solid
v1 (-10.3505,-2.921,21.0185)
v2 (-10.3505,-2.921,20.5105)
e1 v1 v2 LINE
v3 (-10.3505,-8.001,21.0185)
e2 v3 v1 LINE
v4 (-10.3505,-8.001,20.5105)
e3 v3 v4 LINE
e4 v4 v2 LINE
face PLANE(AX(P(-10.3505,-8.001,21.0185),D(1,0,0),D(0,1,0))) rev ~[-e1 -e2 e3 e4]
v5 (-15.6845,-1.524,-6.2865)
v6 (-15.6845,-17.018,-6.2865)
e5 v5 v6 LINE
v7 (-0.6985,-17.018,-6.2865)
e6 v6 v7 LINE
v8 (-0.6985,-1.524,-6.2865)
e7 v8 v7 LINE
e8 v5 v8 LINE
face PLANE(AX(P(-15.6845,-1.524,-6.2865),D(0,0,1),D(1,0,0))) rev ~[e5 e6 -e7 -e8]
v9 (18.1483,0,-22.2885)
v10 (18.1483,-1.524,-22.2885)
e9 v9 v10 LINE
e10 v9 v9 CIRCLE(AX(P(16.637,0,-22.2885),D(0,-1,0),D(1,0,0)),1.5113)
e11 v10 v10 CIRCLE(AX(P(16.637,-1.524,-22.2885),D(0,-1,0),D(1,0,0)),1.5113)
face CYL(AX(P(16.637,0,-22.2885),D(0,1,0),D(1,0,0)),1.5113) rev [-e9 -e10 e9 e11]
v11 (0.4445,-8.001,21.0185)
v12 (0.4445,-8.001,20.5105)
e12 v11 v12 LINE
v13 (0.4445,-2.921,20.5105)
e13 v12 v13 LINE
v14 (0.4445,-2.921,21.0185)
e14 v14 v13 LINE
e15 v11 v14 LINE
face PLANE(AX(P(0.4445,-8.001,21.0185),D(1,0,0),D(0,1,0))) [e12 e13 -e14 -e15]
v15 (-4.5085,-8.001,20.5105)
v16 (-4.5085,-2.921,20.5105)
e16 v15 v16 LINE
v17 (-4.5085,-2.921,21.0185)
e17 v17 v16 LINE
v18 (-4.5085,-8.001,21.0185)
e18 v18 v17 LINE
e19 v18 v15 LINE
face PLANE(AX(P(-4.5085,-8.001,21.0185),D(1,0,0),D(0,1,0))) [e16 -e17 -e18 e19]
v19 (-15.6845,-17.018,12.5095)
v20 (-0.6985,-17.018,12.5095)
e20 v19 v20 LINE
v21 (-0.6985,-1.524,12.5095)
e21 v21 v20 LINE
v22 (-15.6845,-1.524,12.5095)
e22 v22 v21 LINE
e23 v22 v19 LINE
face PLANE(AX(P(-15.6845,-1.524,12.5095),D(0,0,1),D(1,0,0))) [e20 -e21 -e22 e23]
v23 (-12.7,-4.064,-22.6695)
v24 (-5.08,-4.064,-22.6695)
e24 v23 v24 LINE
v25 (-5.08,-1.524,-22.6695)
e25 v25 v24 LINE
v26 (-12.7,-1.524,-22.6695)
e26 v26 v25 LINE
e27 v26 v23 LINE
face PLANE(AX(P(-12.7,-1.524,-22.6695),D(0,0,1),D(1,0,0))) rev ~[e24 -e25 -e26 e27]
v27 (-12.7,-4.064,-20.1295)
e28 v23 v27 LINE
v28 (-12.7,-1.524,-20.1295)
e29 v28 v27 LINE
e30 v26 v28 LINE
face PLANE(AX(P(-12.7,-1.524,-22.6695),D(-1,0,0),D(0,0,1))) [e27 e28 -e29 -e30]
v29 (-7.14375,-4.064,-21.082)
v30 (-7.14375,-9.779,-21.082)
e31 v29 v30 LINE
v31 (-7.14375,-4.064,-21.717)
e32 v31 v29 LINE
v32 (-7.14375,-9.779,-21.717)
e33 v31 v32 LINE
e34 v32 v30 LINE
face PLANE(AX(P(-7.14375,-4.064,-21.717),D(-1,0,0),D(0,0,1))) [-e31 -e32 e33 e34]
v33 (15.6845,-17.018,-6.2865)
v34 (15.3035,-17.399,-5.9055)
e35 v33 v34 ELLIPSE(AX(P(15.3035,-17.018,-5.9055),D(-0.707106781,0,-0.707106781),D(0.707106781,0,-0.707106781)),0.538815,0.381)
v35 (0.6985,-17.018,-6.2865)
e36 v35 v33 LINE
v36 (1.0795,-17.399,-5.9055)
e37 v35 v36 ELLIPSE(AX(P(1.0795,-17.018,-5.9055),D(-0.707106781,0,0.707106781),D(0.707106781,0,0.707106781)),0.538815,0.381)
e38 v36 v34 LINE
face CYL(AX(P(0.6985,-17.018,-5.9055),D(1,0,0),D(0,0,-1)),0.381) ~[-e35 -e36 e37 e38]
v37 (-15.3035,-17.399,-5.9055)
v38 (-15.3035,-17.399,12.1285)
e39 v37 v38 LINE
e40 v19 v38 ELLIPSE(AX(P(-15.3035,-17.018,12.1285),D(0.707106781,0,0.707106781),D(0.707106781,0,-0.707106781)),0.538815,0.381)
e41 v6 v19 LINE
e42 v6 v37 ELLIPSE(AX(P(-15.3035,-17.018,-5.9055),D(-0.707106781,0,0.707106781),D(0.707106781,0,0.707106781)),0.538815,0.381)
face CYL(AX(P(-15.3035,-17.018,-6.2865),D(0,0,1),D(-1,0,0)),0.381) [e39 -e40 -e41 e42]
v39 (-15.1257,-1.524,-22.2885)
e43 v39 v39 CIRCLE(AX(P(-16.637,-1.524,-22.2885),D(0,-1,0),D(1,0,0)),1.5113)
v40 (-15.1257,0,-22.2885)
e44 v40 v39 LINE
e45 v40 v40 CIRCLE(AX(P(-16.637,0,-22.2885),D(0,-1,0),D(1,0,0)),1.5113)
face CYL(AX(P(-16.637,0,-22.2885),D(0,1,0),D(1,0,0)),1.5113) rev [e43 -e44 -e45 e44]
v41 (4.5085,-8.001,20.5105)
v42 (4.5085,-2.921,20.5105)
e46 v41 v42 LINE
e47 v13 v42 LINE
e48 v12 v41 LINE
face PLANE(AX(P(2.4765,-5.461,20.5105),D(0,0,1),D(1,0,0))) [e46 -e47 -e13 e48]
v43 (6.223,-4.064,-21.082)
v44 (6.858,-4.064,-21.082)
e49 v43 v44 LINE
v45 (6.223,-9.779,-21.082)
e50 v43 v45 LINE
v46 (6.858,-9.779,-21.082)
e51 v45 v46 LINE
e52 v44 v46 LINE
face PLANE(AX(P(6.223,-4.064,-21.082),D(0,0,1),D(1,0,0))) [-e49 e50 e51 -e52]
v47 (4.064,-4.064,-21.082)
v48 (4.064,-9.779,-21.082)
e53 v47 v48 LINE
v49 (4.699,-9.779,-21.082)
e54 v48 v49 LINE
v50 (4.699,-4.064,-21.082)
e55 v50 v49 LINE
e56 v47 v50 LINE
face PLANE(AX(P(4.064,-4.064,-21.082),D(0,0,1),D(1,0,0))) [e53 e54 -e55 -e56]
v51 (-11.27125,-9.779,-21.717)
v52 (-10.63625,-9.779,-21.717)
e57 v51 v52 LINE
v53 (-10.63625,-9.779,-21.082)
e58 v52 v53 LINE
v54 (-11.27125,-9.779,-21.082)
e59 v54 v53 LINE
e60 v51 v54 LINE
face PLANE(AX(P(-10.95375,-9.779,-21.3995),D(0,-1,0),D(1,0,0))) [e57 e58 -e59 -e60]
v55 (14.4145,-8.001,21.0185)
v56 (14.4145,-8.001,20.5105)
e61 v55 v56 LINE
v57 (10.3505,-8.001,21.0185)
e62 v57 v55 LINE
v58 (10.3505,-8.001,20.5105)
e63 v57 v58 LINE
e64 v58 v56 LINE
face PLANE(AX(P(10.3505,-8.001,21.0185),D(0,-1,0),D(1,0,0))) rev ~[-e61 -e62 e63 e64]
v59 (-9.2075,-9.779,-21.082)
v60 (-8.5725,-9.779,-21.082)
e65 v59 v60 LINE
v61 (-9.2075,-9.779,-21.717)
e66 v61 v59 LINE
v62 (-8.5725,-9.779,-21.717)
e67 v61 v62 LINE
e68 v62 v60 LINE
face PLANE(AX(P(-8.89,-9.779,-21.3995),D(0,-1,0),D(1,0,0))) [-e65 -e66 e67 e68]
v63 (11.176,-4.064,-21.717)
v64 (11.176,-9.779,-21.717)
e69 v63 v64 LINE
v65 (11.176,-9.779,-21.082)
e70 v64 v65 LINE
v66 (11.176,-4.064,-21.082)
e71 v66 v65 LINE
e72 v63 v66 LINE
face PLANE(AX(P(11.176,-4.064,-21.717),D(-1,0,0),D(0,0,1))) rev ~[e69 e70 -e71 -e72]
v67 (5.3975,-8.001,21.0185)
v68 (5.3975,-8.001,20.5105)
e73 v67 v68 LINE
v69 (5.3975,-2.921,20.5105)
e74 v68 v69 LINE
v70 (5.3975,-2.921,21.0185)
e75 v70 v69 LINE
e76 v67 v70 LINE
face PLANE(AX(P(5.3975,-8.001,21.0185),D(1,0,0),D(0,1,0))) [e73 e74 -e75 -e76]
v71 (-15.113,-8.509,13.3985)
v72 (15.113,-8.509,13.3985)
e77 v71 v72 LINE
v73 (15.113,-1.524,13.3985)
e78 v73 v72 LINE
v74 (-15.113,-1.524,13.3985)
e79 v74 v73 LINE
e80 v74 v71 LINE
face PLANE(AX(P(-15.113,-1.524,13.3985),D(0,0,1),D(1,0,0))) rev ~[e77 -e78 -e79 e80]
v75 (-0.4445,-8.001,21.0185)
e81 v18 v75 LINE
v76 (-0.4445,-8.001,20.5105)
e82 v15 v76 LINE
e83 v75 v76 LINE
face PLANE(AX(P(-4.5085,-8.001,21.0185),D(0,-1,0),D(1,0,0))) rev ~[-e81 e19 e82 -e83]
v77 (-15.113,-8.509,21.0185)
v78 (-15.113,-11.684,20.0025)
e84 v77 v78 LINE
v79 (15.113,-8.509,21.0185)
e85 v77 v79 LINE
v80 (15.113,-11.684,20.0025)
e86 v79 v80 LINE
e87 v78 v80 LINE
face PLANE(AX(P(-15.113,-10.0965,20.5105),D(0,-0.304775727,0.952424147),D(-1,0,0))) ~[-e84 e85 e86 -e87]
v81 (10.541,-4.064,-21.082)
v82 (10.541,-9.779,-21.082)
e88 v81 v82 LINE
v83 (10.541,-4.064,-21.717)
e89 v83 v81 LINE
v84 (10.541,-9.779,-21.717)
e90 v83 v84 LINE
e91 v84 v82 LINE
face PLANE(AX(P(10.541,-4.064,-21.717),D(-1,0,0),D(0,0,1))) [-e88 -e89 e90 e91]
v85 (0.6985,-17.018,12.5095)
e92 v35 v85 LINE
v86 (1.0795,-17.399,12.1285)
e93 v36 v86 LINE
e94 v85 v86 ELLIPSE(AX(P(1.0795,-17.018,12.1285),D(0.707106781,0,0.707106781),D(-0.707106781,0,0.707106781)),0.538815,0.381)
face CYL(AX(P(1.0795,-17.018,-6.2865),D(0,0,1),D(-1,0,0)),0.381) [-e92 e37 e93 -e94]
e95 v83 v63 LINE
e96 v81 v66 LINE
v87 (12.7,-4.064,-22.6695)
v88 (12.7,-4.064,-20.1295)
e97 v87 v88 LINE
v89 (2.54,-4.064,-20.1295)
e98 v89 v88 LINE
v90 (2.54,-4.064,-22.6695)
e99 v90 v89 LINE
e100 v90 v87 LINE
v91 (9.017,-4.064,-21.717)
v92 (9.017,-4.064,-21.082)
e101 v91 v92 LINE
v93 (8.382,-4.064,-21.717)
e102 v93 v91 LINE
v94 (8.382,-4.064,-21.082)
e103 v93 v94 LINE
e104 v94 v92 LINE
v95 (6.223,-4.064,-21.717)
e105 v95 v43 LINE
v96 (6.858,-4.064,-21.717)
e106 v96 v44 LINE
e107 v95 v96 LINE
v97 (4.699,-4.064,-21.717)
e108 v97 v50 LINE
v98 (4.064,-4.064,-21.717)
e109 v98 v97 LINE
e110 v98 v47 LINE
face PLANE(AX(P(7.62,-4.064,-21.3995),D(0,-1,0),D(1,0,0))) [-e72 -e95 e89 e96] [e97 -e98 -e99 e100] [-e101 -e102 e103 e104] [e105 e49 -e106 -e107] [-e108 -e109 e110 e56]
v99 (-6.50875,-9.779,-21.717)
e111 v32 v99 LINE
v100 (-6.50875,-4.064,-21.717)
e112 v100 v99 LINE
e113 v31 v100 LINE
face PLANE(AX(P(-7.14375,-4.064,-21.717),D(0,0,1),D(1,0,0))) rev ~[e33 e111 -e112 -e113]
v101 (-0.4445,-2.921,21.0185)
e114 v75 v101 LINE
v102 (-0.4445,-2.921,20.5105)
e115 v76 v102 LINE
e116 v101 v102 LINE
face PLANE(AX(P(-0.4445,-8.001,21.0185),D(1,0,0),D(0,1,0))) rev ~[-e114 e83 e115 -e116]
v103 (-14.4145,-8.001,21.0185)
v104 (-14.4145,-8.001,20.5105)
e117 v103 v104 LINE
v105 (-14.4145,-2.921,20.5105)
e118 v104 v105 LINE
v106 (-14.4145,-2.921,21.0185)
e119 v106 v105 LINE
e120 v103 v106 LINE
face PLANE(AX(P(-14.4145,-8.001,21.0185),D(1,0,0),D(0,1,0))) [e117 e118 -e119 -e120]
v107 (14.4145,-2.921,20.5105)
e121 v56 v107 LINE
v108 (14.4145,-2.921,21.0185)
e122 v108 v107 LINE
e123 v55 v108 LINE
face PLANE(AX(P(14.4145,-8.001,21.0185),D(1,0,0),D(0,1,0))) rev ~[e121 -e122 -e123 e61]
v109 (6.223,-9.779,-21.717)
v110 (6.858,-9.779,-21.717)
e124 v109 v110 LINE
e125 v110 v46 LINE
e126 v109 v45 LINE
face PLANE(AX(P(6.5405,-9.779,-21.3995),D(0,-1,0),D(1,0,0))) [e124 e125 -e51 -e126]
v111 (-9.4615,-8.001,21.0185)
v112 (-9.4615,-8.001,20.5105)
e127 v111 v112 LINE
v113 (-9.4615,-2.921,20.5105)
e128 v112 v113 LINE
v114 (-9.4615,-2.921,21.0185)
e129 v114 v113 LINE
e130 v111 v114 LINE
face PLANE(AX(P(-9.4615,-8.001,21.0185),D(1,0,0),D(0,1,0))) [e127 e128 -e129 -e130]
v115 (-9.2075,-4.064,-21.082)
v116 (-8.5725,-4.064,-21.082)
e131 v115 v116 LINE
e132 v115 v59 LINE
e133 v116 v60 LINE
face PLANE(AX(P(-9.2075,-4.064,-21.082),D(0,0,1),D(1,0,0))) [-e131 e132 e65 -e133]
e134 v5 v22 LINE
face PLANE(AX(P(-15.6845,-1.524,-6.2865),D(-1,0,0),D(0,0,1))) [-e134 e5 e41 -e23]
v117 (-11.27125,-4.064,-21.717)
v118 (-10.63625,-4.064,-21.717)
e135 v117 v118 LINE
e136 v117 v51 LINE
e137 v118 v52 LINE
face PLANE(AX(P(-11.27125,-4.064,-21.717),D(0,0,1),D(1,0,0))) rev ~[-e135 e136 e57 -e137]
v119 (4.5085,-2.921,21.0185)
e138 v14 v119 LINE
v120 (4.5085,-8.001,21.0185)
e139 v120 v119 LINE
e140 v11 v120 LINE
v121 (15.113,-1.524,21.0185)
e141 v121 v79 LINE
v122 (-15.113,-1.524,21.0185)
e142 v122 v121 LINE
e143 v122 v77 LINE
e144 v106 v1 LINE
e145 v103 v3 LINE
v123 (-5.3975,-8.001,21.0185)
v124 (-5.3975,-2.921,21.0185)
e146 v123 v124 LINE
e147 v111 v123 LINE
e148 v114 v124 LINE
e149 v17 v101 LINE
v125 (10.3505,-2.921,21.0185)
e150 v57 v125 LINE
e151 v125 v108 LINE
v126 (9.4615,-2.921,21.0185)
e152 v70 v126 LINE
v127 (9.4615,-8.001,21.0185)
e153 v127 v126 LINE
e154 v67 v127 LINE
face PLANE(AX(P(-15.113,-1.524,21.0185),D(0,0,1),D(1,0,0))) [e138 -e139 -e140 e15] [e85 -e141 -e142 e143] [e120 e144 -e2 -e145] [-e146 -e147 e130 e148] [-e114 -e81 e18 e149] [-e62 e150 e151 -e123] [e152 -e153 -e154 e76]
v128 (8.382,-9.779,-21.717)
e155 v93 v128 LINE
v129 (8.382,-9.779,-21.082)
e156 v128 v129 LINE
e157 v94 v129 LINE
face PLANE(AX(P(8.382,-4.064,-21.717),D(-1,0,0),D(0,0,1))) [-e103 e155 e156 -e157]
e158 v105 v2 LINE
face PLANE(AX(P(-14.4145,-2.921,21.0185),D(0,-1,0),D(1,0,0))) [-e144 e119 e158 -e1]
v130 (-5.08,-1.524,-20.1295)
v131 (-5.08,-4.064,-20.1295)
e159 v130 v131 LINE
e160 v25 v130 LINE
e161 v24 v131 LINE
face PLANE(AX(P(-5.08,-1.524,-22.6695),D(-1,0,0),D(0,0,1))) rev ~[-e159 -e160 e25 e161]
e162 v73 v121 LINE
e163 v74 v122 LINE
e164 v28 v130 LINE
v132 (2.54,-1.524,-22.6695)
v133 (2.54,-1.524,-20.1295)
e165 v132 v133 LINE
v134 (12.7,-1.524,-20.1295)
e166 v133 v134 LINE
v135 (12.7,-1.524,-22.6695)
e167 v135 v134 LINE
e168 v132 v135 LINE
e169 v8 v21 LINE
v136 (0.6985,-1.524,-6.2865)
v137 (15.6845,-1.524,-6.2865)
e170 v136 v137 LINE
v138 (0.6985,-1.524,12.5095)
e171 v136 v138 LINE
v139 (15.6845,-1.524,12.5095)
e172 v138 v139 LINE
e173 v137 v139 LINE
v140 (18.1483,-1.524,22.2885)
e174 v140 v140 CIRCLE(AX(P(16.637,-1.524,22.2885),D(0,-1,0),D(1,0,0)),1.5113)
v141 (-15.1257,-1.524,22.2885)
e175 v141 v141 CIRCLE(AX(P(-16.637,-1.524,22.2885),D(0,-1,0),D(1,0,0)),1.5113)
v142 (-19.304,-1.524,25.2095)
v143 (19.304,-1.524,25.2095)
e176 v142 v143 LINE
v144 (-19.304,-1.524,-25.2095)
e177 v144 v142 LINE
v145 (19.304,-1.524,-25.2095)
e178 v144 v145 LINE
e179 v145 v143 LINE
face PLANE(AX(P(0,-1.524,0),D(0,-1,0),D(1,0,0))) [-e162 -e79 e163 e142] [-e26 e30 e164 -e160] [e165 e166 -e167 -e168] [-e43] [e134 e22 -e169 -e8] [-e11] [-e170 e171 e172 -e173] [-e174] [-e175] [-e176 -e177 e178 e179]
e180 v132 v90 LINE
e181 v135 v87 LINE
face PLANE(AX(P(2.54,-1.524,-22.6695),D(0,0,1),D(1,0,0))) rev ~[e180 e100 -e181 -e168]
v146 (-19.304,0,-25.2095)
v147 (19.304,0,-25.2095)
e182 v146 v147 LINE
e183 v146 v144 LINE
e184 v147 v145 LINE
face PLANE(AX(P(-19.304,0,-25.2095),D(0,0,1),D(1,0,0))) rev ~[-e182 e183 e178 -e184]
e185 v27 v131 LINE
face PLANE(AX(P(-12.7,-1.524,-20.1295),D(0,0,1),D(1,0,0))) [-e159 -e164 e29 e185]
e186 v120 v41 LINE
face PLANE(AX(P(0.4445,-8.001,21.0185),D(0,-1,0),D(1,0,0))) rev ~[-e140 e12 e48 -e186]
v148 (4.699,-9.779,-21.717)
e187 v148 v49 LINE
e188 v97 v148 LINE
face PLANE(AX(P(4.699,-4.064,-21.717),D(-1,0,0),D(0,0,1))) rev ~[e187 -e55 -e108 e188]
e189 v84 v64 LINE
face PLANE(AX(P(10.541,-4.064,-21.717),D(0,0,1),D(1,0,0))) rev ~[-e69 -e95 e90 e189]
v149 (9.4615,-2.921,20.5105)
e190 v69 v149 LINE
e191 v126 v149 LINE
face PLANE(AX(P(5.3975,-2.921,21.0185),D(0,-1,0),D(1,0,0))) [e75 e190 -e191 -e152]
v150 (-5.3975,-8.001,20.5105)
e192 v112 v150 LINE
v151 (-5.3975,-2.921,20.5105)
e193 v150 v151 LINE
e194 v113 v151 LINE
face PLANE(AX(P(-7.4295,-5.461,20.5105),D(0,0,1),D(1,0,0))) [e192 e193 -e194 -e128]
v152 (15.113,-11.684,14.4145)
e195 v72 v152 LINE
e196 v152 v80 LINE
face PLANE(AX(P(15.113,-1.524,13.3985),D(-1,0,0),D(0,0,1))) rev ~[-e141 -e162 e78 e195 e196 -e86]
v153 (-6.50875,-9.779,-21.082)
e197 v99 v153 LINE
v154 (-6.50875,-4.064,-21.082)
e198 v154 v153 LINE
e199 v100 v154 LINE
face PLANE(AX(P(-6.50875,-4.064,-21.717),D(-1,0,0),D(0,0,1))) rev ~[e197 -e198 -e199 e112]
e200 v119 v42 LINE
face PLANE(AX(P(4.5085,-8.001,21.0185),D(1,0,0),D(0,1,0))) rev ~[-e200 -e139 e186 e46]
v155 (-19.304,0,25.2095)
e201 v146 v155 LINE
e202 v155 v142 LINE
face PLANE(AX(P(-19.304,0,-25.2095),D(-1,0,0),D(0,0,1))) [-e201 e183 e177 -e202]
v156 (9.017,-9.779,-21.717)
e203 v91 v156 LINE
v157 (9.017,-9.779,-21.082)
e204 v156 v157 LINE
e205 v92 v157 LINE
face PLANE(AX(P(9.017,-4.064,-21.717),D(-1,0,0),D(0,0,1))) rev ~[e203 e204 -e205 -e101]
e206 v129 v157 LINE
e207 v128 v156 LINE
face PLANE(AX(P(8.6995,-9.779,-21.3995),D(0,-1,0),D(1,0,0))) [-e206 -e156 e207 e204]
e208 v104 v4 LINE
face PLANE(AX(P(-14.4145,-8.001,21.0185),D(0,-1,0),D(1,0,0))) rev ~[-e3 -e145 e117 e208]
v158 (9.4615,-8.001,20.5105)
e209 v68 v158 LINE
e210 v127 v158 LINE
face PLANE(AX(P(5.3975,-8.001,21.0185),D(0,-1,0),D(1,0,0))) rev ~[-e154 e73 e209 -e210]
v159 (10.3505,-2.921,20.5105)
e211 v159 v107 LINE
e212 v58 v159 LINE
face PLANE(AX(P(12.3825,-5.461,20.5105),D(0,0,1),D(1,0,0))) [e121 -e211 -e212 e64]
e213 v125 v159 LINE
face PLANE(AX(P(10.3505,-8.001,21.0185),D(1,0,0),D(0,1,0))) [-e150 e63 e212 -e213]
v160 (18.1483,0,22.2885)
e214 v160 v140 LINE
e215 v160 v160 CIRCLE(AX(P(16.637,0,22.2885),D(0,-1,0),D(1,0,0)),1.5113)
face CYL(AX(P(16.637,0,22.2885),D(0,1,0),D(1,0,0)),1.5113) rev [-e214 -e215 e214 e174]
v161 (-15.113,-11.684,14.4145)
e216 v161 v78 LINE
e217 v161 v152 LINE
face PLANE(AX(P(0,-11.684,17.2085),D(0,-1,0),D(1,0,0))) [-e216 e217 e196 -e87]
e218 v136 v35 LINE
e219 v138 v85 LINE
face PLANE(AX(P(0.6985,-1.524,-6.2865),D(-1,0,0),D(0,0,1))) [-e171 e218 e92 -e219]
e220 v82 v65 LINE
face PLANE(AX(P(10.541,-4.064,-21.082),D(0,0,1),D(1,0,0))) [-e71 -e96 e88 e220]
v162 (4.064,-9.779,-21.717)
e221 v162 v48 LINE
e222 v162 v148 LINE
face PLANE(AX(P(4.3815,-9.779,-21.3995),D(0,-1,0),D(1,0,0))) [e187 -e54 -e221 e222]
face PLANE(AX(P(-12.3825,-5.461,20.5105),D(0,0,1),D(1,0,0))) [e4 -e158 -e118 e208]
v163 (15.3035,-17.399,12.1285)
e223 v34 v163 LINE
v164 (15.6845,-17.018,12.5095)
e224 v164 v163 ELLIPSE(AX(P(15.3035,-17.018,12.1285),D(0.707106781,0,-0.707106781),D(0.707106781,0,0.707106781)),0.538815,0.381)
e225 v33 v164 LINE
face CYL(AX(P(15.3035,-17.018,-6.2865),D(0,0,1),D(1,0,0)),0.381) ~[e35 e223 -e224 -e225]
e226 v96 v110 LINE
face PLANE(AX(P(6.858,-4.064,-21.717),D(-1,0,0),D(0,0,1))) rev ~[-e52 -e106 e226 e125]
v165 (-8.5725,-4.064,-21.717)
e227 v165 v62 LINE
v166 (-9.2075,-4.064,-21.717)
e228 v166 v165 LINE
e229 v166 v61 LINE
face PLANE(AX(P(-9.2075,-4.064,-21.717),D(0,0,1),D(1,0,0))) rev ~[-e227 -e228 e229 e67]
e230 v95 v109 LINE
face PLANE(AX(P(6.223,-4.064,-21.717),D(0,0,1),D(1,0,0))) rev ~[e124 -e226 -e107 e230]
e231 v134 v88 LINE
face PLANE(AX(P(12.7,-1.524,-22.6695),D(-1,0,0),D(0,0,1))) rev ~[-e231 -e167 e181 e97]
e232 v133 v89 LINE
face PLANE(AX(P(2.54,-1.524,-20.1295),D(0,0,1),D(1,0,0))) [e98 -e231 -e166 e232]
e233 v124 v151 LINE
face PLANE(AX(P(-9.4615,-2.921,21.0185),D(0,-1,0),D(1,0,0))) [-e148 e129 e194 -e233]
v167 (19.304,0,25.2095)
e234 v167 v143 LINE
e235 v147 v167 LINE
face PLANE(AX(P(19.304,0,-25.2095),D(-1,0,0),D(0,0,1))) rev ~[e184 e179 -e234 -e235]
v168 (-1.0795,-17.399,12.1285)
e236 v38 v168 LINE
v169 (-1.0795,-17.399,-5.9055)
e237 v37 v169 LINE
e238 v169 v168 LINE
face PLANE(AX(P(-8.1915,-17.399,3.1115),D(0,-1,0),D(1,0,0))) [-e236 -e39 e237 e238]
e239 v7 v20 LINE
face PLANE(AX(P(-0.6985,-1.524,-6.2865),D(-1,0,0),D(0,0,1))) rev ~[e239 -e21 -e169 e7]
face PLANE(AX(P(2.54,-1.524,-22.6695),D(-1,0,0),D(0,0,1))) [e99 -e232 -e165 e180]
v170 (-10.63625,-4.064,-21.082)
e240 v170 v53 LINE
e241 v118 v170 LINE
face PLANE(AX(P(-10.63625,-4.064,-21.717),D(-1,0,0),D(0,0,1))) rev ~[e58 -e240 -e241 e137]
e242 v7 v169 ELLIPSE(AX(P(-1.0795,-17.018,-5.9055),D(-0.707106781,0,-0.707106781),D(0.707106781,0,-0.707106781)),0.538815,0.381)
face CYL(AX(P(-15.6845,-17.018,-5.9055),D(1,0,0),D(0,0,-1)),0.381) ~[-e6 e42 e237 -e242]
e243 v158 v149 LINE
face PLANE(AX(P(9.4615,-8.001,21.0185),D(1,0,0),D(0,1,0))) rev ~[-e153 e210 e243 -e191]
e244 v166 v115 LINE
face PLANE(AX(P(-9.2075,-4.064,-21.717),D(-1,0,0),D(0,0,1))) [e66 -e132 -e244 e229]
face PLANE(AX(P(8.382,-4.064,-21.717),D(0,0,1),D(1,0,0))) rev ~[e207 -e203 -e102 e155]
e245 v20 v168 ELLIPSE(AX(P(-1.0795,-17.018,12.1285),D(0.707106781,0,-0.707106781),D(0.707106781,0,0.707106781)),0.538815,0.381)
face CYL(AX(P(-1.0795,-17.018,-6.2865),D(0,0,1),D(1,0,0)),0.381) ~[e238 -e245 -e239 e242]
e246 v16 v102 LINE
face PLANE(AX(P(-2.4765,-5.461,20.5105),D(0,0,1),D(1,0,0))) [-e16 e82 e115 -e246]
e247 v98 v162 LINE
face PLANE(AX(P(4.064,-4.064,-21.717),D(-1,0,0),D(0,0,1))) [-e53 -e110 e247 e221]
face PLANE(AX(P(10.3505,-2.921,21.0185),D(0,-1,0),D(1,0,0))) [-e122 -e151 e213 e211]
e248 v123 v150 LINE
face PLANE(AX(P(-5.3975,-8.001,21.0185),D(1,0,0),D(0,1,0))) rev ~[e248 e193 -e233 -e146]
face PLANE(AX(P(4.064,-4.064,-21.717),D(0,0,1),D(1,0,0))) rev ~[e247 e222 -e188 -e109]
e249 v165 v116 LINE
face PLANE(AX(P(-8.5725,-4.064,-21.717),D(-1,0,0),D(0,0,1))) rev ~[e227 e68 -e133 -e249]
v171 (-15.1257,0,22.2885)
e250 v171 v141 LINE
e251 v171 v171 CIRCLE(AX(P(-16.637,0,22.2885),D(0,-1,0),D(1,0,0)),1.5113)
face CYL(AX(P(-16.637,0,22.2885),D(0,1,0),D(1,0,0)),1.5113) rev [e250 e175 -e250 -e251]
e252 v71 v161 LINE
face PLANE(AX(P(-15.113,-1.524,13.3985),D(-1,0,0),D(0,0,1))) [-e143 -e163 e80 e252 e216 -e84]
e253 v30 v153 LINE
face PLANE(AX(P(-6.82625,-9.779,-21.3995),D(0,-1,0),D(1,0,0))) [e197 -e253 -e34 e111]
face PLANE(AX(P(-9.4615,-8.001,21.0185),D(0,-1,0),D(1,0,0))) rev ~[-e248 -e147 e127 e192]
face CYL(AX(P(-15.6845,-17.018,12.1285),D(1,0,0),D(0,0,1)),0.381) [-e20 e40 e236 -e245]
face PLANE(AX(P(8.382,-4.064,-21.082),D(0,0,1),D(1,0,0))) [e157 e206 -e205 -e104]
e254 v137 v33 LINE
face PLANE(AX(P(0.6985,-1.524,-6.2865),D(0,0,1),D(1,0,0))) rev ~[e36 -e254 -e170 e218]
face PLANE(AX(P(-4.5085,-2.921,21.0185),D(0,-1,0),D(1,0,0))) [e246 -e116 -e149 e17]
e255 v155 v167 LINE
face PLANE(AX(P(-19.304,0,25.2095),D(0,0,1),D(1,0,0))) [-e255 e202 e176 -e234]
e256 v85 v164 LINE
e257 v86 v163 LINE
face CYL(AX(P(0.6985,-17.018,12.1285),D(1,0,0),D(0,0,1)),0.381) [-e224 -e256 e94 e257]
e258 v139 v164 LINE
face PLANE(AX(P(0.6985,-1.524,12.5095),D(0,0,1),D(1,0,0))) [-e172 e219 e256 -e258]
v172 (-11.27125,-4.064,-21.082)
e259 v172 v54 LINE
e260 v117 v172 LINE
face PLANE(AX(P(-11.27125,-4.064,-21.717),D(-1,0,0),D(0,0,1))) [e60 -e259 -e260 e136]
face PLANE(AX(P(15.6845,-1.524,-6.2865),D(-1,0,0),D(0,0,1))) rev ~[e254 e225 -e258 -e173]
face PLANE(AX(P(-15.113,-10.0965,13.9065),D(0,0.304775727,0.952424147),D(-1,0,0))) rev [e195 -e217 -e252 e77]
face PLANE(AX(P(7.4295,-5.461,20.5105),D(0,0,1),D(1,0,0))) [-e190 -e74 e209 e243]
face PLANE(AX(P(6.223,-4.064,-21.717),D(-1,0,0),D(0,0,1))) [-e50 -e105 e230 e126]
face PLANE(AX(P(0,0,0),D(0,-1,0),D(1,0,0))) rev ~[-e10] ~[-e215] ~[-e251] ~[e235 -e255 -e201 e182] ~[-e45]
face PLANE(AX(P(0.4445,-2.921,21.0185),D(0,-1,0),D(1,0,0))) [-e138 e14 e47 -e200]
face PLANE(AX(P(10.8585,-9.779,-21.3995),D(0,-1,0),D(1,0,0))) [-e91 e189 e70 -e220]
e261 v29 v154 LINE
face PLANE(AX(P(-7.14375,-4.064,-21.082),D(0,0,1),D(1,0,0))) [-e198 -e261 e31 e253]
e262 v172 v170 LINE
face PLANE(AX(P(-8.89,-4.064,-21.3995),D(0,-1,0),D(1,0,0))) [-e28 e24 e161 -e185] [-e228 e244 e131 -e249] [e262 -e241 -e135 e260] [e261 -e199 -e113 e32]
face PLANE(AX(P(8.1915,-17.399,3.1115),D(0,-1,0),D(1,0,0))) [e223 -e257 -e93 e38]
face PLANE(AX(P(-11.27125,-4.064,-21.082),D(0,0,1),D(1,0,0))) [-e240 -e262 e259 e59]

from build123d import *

# Parameters (mm, degrees)
F0_W      = 38.608
F0_H      = 50.419
F0_R      = 1.5113
F1_DEPTH  = 1.524
F2_W      = 14.986
F2_H      = 18.796
F3_DEPTH  = 15.875
F4_R      = 0.381
F5_W      = 30.226
F5_H      = 7.62
F6_DEPTH  = 10.16
F7_SIZE2  = 1.016
F7_SIZE   = 3.175
F8_W      = 4.064
F8_H      = 5.08
F9_DEPTH  = 0.508
F10_W     = 7.62
F10_H     = 2.54
F10_W_2   = 10.16
F11_DEPTH = 2.54
F12_W     = 0.635
F12_H     = 0.635
F13_DEPTH = 5.715


with BuildPart() as f1:
    # F0 (on Front) → F1 (new body)
    with BuildSketch(Plane.XZ):
        Rectangle(F0_W, F0_H)
        with Locations((-16.637, -22.2885)):
            Circle(F0_R, mode=Mode.SUBTRACT)
        with Locations((16.637, -22.2885)):
            Circle(F0_R, mode=Mode.SUBTRACT)
        with Locations((-16.637, 22.2885)):
            Circle(F0_R, mode=Mode.SUBTRACT)
        with Locations((16.637, 22.2885)):
            Circle(F0_R, mode=Mode.SUBTRACT)
    extrude(amount=F1_DEPTH)

    # F2 (on face) → F3 (join)
    with BuildSketch(Plane.XZ.offset(1.524)):
        with Locations((-8.1915, 3.1115)):
            Rectangle(F2_W, F2_H)
        with Locations((8.1915, 3.1115)):
            Rectangle(F2_W, F2_H)
    extrude(amount=F3_DEPTH)

    # F4
    f4_edges = [f1.edges().sort_by_distance(p)[0] for p in [
        (-8.1915, -17.399, 12.5095),
        (-15.6845, -17.399, 3.1115),
        (-8.1915, -17.399, -6.2865),
        (-0.6985, -17.399, 3.1115),
        (0.6985, -17.399, 3.1115),
        (8.1915, -17.399, -6.2865),
        (15.6845, -17.399, 3.1115),
        (8.1915, -17.399, 12.5095),
    ]]
    fillet(f4_edges, radius=F4_R)

    # F5 (on face) → F6 (join)
    with BuildSketch(Plane.XZ.offset(1.524)):
        with Locations((0, 17.2085)):
            Rectangle(F5_W, F5_H)
    extrude(amount=F6_DEPTH)

    # F7
    f7_edges = [f1.edges().sort_by_distance(p)[0] for p in [
        (0, -11.684, 21.0185),
        (0, -11.684, 13.3985),
    ]]
    chamfer(f7_edges, length=F7_SIZE, length2=F7_SIZE2)

    # F8 (on face) → F9 (cut)
    with BuildSketch(Plane.XY.offset(21.0185)):
        with Locations((-12.3825, -5.461)):
            Rectangle(F8_W, F8_H)
        with Locations((-7.4295, -5.461)):
            Rectangle(F8_W, F8_H)
        with Locations((-2.4765, -5.461)):
            Rectangle(F8_W, F8_H)
        with Locations((2.4765, -5.461)):
            Rectangle(F8_W, F8_H)
        with Locations((7.4295, -5.461)):
            Rectangle(F8_W, F8_H)
        with Locations((12.3825, -5.461)):
            Rectangle(F8_W, F8_H)
    extrude(amount=-F9_DEPTH, mode=Mode.SUBTRACT)

    # F10 (on face) → F11 (join)
    with BuildSketch(Plane.XZ.offset(1.524)):
        with Locations((-8.89, -21.3995)):
            Rectangle(F10_W, F10_H)
        with Locations((7.62, -21.3995)):
            Rectangle(F10_W_2, F10_H)
    extrude(amount=F11_DEPTH)

    # F12 (on face) → F13 (join)
    with BuildSketch(Plane.XZ.offset(4.064)):
        with Locations((4.3815, -21.3995)):
            Rectangle(F12_W, F12_H)
        with Locations((6.5405, -21.3995)):
            Rectangle(F12_W, F12_H)
        with Locations((8.6995, -21.3995)):
            Rectangle(F12_W, F12_H)
        with Locations((10.8585, -21.3995)):
            Rectangle(F12_W, F12_H)
        with Locations((-6.82625, -21.3995)):
            Rectangle(F12_W, F12_H)
        with Locations((-8.89, -21.3995)):
            Rectangle(F12_W, F12_H)
        with Locations((-10.95375, -21.3995)):
            Rectangle(F12_W, F12_H)
    extrude(amount=F13_DEPTH)


solid = f1.part
